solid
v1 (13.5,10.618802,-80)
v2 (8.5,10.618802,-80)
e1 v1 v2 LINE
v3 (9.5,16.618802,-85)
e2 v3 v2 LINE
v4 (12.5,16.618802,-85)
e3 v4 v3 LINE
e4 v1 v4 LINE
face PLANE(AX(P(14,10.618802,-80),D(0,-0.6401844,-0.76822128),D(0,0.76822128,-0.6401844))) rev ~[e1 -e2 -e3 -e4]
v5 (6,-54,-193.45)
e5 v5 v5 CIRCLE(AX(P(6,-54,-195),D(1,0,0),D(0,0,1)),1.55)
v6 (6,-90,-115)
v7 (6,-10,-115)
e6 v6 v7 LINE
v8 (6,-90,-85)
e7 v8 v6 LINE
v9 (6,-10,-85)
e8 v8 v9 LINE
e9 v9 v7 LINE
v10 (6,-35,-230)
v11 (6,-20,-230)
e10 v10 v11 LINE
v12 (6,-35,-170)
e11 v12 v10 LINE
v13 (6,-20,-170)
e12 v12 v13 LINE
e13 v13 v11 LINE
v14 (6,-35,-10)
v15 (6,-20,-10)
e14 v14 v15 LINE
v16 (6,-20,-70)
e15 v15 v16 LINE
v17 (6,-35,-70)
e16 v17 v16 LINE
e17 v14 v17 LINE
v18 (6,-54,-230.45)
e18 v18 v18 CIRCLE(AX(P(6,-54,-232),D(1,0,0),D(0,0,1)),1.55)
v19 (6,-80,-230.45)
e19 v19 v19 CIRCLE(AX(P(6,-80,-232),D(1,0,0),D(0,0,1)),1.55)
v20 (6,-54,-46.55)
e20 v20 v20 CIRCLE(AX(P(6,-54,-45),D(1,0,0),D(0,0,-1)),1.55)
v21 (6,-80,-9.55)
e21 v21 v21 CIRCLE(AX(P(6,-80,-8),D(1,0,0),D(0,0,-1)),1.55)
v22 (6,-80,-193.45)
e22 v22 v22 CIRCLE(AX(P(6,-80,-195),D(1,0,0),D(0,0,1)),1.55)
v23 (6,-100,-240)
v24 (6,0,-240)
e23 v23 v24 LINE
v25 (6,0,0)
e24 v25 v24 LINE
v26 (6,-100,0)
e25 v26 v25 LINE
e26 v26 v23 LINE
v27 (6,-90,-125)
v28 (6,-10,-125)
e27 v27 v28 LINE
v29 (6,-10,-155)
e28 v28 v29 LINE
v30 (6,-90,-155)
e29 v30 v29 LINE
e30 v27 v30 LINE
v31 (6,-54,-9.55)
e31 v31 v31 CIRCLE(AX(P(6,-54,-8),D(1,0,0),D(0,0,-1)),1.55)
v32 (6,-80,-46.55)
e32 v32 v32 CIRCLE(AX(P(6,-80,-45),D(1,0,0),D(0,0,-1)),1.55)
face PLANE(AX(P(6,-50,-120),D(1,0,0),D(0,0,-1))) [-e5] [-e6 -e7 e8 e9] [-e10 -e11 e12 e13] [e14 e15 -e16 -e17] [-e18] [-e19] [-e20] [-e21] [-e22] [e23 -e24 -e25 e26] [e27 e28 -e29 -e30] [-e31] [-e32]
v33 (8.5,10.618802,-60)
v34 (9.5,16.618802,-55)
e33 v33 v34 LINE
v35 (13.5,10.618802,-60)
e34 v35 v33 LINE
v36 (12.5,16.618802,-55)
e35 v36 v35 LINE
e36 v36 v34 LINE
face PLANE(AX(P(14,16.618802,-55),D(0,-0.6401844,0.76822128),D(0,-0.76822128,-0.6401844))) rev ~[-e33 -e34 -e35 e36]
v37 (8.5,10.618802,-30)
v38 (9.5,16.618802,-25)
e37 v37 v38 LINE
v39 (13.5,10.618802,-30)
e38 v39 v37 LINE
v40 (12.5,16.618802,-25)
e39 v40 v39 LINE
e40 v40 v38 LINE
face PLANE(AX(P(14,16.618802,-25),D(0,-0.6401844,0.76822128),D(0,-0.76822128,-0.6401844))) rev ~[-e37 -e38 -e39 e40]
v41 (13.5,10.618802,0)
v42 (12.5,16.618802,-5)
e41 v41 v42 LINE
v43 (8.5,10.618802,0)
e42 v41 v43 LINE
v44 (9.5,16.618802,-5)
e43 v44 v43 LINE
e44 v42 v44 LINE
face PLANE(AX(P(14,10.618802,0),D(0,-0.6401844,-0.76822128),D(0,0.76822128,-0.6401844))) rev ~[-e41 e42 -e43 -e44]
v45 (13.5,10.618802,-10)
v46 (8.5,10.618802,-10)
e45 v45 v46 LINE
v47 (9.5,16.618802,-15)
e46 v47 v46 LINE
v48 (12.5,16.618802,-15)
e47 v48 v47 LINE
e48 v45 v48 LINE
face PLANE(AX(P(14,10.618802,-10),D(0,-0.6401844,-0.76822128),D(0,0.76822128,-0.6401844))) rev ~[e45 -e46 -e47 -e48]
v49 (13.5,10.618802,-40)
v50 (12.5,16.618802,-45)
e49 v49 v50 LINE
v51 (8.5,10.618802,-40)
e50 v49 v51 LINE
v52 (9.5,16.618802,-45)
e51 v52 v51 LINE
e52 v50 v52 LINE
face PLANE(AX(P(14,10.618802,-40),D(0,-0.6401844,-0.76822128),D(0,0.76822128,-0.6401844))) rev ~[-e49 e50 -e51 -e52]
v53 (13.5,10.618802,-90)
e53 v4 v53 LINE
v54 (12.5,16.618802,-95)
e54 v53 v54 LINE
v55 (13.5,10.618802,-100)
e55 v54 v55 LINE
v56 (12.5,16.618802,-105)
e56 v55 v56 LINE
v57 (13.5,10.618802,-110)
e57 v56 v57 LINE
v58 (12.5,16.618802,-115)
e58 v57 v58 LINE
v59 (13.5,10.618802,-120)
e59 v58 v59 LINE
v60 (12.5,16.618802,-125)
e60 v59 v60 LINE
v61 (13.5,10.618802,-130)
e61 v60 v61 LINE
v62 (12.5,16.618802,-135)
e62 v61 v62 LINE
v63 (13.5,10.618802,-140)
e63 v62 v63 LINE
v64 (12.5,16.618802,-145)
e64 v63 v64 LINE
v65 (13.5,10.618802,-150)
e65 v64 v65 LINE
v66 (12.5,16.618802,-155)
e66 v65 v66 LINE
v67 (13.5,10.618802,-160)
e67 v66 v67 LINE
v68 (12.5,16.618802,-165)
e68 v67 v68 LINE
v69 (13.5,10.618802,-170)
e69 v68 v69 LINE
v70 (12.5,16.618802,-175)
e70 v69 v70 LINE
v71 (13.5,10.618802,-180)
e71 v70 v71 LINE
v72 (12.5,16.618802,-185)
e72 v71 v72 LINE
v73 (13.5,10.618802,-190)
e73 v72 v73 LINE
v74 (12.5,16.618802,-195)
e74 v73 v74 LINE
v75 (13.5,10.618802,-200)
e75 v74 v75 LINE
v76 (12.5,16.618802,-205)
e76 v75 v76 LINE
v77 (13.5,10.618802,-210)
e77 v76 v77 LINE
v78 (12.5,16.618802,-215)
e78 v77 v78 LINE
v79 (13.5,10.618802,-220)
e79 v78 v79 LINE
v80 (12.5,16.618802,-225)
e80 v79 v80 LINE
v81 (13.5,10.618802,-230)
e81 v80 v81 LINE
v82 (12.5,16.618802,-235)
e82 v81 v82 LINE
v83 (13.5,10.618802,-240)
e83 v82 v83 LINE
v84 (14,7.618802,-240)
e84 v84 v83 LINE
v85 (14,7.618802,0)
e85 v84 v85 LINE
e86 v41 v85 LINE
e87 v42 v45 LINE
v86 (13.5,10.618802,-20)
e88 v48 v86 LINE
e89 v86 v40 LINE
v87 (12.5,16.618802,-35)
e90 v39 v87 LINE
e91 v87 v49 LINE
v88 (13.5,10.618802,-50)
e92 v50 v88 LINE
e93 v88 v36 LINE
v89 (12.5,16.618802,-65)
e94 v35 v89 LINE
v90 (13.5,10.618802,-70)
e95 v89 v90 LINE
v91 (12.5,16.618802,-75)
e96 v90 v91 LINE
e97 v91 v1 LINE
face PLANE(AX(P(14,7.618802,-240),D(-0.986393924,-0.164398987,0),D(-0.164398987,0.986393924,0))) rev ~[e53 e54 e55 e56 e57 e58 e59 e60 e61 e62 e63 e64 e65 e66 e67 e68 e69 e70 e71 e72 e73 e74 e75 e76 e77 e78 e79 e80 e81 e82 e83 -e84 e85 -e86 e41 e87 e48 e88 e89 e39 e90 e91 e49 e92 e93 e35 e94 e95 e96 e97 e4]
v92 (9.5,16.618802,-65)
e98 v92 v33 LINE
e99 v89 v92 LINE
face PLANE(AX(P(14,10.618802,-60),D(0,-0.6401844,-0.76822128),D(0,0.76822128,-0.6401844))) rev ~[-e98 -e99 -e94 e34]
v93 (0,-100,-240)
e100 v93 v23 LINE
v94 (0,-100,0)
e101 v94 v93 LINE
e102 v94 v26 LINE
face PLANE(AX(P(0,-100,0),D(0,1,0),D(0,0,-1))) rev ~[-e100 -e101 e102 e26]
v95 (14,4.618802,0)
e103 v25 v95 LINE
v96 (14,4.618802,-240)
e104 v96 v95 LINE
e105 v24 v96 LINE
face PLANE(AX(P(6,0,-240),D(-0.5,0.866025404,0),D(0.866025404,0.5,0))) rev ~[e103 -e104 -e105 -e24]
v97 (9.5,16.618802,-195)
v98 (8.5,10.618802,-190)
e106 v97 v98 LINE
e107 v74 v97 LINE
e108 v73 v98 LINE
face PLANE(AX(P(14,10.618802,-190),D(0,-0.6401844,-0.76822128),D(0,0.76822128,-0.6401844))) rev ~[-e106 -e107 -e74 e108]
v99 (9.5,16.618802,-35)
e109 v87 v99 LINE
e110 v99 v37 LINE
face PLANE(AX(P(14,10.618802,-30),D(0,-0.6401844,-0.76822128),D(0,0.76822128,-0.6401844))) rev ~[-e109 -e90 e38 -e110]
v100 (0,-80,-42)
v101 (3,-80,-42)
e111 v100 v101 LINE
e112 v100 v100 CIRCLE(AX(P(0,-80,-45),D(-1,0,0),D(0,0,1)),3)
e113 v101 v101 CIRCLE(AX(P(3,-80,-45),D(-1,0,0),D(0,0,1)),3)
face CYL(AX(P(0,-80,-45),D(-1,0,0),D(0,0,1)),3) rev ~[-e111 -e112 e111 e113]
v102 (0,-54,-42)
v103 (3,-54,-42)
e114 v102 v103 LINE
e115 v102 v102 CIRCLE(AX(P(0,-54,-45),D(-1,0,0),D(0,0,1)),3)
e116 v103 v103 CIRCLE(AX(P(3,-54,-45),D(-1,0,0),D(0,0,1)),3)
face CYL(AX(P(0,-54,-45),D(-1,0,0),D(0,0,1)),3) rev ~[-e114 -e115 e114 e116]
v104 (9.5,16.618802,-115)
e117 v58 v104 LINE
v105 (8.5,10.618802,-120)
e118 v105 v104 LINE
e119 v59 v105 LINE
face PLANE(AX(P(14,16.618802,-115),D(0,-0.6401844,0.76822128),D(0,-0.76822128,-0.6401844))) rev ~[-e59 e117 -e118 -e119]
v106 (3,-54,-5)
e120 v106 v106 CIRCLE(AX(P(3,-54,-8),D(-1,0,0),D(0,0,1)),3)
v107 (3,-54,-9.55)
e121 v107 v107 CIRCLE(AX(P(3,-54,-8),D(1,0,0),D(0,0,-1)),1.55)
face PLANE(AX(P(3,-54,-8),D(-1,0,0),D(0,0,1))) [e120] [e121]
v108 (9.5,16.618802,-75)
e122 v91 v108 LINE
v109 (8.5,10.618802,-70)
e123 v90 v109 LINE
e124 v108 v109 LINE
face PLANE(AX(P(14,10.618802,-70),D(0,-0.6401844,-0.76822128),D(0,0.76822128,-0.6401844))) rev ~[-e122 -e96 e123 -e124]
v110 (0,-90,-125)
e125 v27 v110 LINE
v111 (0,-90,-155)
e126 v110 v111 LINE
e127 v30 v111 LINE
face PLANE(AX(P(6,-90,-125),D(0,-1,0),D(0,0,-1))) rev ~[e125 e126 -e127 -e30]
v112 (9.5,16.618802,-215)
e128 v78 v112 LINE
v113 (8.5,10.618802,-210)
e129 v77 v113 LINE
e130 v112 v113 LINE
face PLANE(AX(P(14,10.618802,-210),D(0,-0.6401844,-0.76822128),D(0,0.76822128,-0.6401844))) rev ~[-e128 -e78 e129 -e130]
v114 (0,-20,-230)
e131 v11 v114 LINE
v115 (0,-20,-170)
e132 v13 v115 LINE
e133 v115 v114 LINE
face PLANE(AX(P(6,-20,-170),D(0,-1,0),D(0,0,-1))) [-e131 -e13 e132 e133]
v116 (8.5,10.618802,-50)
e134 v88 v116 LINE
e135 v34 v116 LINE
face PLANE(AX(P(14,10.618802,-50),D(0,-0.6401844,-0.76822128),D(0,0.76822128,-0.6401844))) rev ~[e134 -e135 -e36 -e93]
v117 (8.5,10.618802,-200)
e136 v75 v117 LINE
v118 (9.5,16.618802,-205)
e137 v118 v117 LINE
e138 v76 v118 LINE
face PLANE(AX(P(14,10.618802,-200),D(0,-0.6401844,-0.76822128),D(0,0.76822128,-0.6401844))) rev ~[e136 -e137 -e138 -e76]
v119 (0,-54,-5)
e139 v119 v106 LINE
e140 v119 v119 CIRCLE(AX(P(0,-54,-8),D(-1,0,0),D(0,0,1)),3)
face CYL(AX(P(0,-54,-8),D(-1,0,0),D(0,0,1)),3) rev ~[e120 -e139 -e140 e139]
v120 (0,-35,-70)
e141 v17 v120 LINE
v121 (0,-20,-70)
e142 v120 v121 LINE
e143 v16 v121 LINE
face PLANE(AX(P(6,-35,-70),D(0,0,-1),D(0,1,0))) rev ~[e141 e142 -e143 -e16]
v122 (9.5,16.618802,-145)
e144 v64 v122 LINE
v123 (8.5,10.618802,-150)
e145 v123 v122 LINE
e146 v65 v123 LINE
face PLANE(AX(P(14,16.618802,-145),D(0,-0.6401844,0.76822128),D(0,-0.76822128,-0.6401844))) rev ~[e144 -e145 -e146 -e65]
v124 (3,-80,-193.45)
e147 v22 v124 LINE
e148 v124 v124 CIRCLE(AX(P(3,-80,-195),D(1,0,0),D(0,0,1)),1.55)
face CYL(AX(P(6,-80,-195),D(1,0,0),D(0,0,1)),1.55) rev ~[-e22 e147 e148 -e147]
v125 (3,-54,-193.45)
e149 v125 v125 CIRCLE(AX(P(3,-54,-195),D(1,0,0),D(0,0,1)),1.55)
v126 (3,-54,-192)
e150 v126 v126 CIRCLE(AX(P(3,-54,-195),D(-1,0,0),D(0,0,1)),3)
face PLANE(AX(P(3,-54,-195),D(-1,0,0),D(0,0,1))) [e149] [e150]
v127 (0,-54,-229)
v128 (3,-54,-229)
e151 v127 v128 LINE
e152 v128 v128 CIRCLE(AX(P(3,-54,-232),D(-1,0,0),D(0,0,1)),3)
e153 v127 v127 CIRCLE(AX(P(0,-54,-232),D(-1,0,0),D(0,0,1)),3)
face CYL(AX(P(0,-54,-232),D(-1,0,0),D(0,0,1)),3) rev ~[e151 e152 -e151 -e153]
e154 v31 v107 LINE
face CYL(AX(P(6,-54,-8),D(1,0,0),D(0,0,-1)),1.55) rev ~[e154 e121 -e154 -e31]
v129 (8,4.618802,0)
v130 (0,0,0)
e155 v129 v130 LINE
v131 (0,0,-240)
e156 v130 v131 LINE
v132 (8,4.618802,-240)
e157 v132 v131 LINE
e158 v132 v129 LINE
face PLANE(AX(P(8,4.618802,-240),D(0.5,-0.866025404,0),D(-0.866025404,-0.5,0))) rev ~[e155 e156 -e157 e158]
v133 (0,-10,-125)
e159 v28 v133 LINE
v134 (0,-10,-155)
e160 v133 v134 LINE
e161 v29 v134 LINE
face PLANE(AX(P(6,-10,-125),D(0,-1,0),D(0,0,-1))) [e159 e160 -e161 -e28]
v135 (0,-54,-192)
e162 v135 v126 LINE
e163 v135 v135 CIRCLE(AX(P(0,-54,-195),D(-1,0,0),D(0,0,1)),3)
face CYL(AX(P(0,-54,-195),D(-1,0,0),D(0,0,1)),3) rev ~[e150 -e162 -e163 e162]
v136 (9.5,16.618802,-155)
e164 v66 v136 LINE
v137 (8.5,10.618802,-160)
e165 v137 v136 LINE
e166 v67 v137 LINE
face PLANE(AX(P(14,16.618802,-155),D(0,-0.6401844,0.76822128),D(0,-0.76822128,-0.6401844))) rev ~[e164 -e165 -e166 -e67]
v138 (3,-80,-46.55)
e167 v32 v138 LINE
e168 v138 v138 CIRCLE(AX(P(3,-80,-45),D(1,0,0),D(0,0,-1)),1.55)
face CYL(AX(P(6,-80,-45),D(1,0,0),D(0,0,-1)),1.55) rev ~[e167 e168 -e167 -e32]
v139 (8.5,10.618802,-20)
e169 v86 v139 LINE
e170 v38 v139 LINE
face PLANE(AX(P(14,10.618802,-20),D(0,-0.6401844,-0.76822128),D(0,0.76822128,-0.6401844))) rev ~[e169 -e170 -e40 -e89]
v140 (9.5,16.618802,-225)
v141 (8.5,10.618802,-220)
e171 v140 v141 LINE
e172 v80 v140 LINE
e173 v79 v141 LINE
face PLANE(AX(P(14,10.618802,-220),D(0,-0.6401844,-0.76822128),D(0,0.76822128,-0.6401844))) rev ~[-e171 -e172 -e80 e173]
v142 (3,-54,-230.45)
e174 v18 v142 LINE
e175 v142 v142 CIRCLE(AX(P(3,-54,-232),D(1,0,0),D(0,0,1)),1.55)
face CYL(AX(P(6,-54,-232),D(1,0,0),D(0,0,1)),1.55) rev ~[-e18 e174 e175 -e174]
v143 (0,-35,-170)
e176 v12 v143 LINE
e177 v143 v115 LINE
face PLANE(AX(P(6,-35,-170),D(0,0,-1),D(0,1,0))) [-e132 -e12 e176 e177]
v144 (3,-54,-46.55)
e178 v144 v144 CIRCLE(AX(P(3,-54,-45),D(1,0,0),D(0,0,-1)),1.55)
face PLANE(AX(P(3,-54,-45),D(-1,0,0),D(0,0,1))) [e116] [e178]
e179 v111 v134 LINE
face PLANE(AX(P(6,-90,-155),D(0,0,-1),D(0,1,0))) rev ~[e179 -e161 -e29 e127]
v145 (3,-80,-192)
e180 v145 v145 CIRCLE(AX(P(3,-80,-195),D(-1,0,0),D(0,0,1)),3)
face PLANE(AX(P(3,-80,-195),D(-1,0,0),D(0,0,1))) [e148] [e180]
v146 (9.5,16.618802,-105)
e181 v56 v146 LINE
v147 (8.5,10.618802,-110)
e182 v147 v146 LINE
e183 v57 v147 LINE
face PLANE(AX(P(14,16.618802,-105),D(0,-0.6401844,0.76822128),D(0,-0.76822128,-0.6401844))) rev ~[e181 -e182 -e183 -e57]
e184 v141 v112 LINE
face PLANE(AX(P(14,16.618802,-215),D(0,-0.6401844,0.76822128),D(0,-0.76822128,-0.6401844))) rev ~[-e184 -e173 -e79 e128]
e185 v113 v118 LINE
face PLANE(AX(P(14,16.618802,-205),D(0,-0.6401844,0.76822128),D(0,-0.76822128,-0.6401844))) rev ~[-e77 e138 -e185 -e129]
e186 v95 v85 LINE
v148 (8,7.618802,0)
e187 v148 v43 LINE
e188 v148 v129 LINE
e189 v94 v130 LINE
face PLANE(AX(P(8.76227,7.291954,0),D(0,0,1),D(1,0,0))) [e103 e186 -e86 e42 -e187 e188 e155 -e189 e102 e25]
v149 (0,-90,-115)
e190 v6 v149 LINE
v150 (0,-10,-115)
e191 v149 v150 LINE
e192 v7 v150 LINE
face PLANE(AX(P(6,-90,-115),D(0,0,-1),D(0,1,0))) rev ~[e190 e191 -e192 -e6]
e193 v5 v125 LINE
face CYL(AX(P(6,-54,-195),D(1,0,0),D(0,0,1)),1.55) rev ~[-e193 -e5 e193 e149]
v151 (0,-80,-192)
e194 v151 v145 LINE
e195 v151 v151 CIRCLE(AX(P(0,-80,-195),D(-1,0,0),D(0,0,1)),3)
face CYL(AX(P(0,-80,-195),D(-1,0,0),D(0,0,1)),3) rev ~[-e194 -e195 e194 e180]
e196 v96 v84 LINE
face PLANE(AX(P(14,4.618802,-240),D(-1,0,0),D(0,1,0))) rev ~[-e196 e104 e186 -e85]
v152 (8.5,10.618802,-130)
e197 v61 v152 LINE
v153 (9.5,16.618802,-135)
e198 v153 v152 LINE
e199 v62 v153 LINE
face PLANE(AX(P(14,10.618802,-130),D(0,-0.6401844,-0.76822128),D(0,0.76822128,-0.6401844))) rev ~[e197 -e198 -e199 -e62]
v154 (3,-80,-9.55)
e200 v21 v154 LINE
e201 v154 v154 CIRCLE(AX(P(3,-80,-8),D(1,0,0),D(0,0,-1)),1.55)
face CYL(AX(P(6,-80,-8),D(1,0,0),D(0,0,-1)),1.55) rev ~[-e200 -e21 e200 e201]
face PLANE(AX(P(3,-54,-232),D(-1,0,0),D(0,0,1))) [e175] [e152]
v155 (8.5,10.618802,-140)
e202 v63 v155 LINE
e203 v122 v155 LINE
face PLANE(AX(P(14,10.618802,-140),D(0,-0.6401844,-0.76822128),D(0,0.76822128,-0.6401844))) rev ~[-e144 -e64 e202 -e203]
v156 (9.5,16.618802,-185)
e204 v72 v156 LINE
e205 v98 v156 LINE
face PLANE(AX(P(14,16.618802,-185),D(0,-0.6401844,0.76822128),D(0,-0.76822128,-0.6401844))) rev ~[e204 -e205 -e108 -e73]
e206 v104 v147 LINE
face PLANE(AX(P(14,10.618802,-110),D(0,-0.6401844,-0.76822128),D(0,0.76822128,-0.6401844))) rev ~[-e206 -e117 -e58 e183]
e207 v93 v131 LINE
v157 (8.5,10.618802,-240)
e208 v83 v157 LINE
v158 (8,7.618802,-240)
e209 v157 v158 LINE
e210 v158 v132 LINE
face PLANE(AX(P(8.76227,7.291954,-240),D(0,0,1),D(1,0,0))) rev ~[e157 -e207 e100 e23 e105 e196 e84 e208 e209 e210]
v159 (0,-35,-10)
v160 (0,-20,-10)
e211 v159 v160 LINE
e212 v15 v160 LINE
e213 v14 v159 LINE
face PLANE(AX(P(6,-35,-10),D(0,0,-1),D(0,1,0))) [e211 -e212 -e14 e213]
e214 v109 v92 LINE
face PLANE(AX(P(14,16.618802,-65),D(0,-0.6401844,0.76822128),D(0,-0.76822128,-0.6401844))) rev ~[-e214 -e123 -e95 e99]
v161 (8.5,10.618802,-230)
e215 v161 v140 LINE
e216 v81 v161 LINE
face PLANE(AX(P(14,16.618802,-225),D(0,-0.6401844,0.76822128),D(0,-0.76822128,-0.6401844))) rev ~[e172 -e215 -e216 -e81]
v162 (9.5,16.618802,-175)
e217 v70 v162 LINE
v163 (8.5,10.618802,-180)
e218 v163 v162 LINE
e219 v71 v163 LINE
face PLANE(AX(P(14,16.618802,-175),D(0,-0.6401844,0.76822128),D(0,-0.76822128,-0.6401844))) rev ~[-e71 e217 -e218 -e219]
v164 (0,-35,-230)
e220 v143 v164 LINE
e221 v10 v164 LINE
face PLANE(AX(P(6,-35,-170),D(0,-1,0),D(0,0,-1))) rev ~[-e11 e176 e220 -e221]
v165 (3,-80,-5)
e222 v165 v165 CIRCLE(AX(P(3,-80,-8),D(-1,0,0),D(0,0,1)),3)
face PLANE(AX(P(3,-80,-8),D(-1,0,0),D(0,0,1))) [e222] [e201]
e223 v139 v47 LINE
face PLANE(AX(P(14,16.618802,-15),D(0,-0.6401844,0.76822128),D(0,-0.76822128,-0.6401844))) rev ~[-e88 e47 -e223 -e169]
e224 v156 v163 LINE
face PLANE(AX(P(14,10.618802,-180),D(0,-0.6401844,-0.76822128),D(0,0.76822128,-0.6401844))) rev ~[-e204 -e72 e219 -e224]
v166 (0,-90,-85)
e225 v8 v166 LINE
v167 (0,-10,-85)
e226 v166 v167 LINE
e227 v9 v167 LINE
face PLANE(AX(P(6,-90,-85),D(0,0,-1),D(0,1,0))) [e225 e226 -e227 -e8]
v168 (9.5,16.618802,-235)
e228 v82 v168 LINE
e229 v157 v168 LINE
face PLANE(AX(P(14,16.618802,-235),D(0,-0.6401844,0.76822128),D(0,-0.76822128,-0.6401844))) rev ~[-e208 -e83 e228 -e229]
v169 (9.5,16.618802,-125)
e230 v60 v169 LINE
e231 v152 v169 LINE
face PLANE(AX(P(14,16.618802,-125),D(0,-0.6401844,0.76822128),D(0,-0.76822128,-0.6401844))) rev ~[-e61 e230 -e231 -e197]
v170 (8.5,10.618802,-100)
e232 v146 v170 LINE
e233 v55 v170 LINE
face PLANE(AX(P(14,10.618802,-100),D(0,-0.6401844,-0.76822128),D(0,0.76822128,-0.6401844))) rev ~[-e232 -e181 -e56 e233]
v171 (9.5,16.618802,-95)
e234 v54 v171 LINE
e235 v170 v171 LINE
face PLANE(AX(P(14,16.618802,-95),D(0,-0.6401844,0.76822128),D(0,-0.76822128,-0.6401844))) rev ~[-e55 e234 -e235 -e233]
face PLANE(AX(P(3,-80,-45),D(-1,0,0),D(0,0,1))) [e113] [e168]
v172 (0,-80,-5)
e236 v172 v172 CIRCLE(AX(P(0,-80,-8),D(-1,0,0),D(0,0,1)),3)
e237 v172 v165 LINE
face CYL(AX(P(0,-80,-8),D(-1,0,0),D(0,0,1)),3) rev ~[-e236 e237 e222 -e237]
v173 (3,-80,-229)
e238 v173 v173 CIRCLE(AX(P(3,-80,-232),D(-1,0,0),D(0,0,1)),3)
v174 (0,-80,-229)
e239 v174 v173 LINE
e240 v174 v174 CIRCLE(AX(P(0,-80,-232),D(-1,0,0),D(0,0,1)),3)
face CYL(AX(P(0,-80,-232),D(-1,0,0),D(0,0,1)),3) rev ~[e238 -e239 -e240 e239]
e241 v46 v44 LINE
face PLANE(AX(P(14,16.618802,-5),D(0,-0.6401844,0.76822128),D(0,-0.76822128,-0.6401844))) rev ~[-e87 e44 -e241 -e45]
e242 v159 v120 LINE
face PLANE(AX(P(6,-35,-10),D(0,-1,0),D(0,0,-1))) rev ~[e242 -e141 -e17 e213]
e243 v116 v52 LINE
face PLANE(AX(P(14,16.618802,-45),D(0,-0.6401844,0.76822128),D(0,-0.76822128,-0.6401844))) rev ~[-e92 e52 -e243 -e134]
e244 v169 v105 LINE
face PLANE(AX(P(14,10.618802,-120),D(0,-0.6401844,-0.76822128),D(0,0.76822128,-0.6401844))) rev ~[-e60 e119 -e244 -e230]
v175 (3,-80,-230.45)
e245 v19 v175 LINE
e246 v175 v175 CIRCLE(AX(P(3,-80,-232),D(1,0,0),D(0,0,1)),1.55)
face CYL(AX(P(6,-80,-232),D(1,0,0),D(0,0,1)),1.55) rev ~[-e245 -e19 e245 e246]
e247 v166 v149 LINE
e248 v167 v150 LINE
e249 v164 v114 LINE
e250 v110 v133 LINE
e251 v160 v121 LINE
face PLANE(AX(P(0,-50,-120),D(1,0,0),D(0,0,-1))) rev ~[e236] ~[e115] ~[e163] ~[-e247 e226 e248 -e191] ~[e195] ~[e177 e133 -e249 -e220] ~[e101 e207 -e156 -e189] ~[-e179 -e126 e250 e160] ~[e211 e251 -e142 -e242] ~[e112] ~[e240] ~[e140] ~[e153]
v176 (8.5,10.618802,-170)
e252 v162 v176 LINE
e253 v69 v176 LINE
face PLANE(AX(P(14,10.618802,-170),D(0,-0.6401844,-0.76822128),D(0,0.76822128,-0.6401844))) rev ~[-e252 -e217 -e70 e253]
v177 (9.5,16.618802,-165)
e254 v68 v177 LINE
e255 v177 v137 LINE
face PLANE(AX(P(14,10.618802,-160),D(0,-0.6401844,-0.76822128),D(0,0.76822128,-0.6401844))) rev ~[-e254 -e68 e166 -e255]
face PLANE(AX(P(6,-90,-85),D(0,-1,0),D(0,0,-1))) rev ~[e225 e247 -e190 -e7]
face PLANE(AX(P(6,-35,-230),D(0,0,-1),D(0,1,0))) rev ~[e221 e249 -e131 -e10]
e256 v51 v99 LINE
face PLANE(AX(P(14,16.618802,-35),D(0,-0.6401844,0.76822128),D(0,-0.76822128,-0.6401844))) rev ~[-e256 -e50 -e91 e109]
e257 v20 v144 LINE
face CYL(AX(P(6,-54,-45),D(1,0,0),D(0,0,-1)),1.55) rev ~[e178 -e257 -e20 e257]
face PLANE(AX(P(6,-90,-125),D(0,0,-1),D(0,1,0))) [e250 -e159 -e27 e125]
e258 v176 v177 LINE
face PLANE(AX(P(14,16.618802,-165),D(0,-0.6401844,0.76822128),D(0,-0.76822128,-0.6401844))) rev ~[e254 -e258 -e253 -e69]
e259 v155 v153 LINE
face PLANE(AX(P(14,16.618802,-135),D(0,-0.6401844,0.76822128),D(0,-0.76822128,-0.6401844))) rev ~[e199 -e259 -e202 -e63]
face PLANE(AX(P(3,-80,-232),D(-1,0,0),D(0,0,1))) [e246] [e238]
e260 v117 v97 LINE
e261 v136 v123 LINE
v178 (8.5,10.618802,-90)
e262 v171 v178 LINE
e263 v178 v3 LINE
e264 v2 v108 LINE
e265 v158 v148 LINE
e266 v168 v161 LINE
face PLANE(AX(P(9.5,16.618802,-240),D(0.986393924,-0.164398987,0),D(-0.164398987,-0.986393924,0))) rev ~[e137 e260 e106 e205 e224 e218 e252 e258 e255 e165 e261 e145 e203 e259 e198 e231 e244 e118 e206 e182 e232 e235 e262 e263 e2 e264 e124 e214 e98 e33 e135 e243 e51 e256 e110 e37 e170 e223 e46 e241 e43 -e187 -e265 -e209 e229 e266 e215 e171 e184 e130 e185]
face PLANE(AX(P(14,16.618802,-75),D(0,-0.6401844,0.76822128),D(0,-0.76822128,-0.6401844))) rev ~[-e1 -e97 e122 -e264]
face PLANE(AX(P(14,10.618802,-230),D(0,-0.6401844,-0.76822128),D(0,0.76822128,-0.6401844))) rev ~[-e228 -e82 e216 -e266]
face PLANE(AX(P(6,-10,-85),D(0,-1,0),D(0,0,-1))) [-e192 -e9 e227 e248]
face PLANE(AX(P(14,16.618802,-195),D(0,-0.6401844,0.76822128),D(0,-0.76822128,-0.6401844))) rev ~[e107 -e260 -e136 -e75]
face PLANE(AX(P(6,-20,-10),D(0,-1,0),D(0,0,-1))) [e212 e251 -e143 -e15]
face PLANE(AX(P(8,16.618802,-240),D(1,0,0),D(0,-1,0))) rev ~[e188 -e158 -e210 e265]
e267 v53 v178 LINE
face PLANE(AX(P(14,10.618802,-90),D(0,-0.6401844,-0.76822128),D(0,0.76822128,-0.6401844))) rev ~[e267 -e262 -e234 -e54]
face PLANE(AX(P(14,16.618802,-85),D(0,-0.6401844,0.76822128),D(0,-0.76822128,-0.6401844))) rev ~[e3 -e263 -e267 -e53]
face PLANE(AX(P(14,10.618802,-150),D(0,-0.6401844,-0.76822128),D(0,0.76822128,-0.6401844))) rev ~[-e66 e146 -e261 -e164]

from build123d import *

# Parameters (mm, degrees)
SKETCH_1_W             = 240
SKETCH_1_H             = 100
EXTRUDE_1_DEPTH        = 6
SKETCH_2_R             = 1.55
CUT_EXTRUDE_1_DEPTH    = 261.069221555
SKETCH_3_W             = 60
SKETCH_3_H             = 15
CUT_EXTRUDE_2_DEPTH    = 261.069221555
SKETCH_4_W             = 30
SKETCH_4_H             = 80
CUT_EXTRUDE_3_DEPTH    = 261.069221555
SKETCH_5_R             = 3
CUT_EXTRUDE_4_DEPTH    = 3
EXTRUDE_3_DEPTH        = 240
CUT_EXTRUDE_5_DEPTH    = 10
CUT_EXTRUDE_6_DEPTH    = 10
PATTERN_LINEAR_1_COUNT = 23
PATTERN_LINEAR_1_PITCH = 10
CUT_EXTRUDE_7_DEPTH    = 10
CUT_EXTRUDE_8_DEPTH    = 261.376650259


with BuildPart() as part:
    # 草图1 → 凸台-拉伸1 (new body)
    with BuildSketch(Plane(origin=(0, 0, 0), x_dir=(0, 0, -1), z_dir=(1, 0, 0))):
        with Locations((120, -50)):
            Rectangle(SKETCH_1_W, SKETCH_1_H)
    extrude(amount=EXTRUDE_1_DEPTH)

    # 草图2 → 切除-拉伸1 (cut, through all)
    with BuildSketch(Plane(origin=(6, 0, 0), x_dir=(0, 0, -1), z_dir=(1, 0, 0))):
        with Locations((8, -54)):
            Circle(SKETCH_2_R)
        with Locations((45, -80)):
            Circle(SKETCH_2_R)
        with Locations((45, -54)):
            Circle(SKETCH_2_R)
        with Locations((8, -80)):
            Circle(SKETCH_2_R)
        with Locations(Location((232, -80, 0), (0, 0, 180))):
            Circle(SKETCH_2_R)
        with Locations(Location((195, -54, 0), (0, 0, 180))):
            Circle(SKETCH_2_R)
        with Locations(Location((195, -80, 0), (0, 0, 180))):
            Circle(SKETCH_2_R)
        with Locations(Location((232, -54, 0), (0, 0, 180))):
            Circle(SKETCH_2_R)
    extrude(amount=-CUT_EXTRUDE_1_DEPTH, mode=Mode.SUBTRACT)

    # 草图3 → 切除-拉伸2 (cut, through all)
    with BuildSketch(Plane(origin=(6, 0, 0), x_dir=(0, 0, -1), z_dir=(1, 0, 0))):
        with Locations((40, -27.5)):
            Rectangle(SKETCH_3_W, SKETCH_3_H)
        with Locations((200, -27.5)):
            Rectangle(SKETCH_3_W, SKETCH_3_H)
    extrude(amount=-CUT_EXTRUDE_2_DEPTH, mode=Mode.SUBTRACT)

    # 草图4 → 切除-拉伸3 (cut, through all)
    with BuildSketch(Plane(origin=(6, 0, 0), x_dir=(0, 0, -1), z_dir=(1, 0, 0))):
        with Locations((100, -50)):
            Rectangle(SKETCH_4_W, SKETCH_4_H)
        with Locations((140, -50)):
            Rectangle(SKETCH_4_W, SKETCH_4_H)
    extrude(amount=-CUT_EXTRUDE_3_DEPTH, mode=Mode.SUBTRACT)

    # 草图5 → 切除-拉伸4 (cut)
    with BuildSketch(Plane.ZY):
        with Locations((-195, -80)):
            Circle(SKETCH_5_R)
        with Locations((-232, -80)):
            Circle(SKETCH_5_R)
        with Locations((-195, -54)):
            Circle(SKETCH_5_R)
        with Locations((-232, -54)):
            Circle(SKETCH_5_R)
        with Locations((-45, -80)):
            Circle(SKETCH_5_R)
        with Locations((-8, -80)):
            Circle(SKETCH_5_R)
        with Locations((-8, -54)):
            Circle(SKETCH_5_R)
        with Locations((-45, -54)):
            Circle(SKETCH_5_R)
    extrude(amount=-CUT_EXTRUDE_4_DEPTH, mode=Mode.SUBTRACT)

    # 草图8 → 凸台-拉伸3 (add)
    with BuildSketch(Plane(origin=(0, 0, -240), x_dir=(-1, 0, 0), z_dir=(0, 0, -1))):
        Polygon((-6, 0), (-14, 4.618802154), (-14, 16.618802154), (-8, 16.618802154), (-8, 4.618802154), (0, 0), align=None)
    extrude(amount=-EXTRUDE_3_DEPTH)

    # 草图9 → 切除-拉伸5 (cut)
    with BuildSketch(Plane(origin=(14, 0, 0), x_dir=(0, 0, -1), z_dir=(1, 0, 0))):
        Polygon((0, 16.618802154), (0, 10.618802154), (5, 16.618802154), align=None)
    extrude(amount=-CUT_EXTRUDE_5_DEPTH, mode=Mode.SUBTRACT)

    # 草图10 → 切除-拉伸6 (cut)
    with BuildSketch(Plane(origin=(14, 0, 0), x_dir=(0, 0, -1), z_dir=(1, 0, 0))):
        Polygon((5, 16.618802154), (10, 10.618802154), (15, 16.618802154), align=None)
    cut_extrude_6 = extrude(amount=-CUT_EXTRUDE_6_DEPTH, mode=Mode.SUBTRACT)

    # 阵列(线性)1: 切除-拉伸6 ×23
    with Locations(*[(0, 0, -i * PATTERN_LINEAR_1_PITCH) for i in range(1, PATTERN_LINEAR_1_COUNT)]):
        add(cut_extrude_6, mode=Mode.SUBTRACT)

    # 草图11 → 切除-拉伸7 (cut)
    with BuildSketch(Plane(origin=(14, 0, 0), x_dir=(0, 0, -1), z_dir=(1, 0, 0))):
        Polygon((235, 16.618802154), (240, 10.618802154), (240, 16.618802154), align=None)
    extrude(amount=-CUT_EXTRUDE_7_DEPTH, mode=Mode.SUBTRACT)

    # 草图12 → 切除-拉伸8 (cut, through all)
    with BuildSketch(Plane(origin=(0, 0, -240), x_dir=(-1, 0, 0), z_dir=(0, 0, -1))):
        Polygon((-14, 7.618802154), (-12.5, 16.618802154), (-14, 16.618802154), align=None)
        Polygon((-9.5, 16.618802154), (-8, 7.618802154), (-8, 16.618802154), align=None)
    extrude(amount=-CUT_EXTRUDE_8_DEPTH, mode=Mode.SUBTRACT)


solid = part.part
